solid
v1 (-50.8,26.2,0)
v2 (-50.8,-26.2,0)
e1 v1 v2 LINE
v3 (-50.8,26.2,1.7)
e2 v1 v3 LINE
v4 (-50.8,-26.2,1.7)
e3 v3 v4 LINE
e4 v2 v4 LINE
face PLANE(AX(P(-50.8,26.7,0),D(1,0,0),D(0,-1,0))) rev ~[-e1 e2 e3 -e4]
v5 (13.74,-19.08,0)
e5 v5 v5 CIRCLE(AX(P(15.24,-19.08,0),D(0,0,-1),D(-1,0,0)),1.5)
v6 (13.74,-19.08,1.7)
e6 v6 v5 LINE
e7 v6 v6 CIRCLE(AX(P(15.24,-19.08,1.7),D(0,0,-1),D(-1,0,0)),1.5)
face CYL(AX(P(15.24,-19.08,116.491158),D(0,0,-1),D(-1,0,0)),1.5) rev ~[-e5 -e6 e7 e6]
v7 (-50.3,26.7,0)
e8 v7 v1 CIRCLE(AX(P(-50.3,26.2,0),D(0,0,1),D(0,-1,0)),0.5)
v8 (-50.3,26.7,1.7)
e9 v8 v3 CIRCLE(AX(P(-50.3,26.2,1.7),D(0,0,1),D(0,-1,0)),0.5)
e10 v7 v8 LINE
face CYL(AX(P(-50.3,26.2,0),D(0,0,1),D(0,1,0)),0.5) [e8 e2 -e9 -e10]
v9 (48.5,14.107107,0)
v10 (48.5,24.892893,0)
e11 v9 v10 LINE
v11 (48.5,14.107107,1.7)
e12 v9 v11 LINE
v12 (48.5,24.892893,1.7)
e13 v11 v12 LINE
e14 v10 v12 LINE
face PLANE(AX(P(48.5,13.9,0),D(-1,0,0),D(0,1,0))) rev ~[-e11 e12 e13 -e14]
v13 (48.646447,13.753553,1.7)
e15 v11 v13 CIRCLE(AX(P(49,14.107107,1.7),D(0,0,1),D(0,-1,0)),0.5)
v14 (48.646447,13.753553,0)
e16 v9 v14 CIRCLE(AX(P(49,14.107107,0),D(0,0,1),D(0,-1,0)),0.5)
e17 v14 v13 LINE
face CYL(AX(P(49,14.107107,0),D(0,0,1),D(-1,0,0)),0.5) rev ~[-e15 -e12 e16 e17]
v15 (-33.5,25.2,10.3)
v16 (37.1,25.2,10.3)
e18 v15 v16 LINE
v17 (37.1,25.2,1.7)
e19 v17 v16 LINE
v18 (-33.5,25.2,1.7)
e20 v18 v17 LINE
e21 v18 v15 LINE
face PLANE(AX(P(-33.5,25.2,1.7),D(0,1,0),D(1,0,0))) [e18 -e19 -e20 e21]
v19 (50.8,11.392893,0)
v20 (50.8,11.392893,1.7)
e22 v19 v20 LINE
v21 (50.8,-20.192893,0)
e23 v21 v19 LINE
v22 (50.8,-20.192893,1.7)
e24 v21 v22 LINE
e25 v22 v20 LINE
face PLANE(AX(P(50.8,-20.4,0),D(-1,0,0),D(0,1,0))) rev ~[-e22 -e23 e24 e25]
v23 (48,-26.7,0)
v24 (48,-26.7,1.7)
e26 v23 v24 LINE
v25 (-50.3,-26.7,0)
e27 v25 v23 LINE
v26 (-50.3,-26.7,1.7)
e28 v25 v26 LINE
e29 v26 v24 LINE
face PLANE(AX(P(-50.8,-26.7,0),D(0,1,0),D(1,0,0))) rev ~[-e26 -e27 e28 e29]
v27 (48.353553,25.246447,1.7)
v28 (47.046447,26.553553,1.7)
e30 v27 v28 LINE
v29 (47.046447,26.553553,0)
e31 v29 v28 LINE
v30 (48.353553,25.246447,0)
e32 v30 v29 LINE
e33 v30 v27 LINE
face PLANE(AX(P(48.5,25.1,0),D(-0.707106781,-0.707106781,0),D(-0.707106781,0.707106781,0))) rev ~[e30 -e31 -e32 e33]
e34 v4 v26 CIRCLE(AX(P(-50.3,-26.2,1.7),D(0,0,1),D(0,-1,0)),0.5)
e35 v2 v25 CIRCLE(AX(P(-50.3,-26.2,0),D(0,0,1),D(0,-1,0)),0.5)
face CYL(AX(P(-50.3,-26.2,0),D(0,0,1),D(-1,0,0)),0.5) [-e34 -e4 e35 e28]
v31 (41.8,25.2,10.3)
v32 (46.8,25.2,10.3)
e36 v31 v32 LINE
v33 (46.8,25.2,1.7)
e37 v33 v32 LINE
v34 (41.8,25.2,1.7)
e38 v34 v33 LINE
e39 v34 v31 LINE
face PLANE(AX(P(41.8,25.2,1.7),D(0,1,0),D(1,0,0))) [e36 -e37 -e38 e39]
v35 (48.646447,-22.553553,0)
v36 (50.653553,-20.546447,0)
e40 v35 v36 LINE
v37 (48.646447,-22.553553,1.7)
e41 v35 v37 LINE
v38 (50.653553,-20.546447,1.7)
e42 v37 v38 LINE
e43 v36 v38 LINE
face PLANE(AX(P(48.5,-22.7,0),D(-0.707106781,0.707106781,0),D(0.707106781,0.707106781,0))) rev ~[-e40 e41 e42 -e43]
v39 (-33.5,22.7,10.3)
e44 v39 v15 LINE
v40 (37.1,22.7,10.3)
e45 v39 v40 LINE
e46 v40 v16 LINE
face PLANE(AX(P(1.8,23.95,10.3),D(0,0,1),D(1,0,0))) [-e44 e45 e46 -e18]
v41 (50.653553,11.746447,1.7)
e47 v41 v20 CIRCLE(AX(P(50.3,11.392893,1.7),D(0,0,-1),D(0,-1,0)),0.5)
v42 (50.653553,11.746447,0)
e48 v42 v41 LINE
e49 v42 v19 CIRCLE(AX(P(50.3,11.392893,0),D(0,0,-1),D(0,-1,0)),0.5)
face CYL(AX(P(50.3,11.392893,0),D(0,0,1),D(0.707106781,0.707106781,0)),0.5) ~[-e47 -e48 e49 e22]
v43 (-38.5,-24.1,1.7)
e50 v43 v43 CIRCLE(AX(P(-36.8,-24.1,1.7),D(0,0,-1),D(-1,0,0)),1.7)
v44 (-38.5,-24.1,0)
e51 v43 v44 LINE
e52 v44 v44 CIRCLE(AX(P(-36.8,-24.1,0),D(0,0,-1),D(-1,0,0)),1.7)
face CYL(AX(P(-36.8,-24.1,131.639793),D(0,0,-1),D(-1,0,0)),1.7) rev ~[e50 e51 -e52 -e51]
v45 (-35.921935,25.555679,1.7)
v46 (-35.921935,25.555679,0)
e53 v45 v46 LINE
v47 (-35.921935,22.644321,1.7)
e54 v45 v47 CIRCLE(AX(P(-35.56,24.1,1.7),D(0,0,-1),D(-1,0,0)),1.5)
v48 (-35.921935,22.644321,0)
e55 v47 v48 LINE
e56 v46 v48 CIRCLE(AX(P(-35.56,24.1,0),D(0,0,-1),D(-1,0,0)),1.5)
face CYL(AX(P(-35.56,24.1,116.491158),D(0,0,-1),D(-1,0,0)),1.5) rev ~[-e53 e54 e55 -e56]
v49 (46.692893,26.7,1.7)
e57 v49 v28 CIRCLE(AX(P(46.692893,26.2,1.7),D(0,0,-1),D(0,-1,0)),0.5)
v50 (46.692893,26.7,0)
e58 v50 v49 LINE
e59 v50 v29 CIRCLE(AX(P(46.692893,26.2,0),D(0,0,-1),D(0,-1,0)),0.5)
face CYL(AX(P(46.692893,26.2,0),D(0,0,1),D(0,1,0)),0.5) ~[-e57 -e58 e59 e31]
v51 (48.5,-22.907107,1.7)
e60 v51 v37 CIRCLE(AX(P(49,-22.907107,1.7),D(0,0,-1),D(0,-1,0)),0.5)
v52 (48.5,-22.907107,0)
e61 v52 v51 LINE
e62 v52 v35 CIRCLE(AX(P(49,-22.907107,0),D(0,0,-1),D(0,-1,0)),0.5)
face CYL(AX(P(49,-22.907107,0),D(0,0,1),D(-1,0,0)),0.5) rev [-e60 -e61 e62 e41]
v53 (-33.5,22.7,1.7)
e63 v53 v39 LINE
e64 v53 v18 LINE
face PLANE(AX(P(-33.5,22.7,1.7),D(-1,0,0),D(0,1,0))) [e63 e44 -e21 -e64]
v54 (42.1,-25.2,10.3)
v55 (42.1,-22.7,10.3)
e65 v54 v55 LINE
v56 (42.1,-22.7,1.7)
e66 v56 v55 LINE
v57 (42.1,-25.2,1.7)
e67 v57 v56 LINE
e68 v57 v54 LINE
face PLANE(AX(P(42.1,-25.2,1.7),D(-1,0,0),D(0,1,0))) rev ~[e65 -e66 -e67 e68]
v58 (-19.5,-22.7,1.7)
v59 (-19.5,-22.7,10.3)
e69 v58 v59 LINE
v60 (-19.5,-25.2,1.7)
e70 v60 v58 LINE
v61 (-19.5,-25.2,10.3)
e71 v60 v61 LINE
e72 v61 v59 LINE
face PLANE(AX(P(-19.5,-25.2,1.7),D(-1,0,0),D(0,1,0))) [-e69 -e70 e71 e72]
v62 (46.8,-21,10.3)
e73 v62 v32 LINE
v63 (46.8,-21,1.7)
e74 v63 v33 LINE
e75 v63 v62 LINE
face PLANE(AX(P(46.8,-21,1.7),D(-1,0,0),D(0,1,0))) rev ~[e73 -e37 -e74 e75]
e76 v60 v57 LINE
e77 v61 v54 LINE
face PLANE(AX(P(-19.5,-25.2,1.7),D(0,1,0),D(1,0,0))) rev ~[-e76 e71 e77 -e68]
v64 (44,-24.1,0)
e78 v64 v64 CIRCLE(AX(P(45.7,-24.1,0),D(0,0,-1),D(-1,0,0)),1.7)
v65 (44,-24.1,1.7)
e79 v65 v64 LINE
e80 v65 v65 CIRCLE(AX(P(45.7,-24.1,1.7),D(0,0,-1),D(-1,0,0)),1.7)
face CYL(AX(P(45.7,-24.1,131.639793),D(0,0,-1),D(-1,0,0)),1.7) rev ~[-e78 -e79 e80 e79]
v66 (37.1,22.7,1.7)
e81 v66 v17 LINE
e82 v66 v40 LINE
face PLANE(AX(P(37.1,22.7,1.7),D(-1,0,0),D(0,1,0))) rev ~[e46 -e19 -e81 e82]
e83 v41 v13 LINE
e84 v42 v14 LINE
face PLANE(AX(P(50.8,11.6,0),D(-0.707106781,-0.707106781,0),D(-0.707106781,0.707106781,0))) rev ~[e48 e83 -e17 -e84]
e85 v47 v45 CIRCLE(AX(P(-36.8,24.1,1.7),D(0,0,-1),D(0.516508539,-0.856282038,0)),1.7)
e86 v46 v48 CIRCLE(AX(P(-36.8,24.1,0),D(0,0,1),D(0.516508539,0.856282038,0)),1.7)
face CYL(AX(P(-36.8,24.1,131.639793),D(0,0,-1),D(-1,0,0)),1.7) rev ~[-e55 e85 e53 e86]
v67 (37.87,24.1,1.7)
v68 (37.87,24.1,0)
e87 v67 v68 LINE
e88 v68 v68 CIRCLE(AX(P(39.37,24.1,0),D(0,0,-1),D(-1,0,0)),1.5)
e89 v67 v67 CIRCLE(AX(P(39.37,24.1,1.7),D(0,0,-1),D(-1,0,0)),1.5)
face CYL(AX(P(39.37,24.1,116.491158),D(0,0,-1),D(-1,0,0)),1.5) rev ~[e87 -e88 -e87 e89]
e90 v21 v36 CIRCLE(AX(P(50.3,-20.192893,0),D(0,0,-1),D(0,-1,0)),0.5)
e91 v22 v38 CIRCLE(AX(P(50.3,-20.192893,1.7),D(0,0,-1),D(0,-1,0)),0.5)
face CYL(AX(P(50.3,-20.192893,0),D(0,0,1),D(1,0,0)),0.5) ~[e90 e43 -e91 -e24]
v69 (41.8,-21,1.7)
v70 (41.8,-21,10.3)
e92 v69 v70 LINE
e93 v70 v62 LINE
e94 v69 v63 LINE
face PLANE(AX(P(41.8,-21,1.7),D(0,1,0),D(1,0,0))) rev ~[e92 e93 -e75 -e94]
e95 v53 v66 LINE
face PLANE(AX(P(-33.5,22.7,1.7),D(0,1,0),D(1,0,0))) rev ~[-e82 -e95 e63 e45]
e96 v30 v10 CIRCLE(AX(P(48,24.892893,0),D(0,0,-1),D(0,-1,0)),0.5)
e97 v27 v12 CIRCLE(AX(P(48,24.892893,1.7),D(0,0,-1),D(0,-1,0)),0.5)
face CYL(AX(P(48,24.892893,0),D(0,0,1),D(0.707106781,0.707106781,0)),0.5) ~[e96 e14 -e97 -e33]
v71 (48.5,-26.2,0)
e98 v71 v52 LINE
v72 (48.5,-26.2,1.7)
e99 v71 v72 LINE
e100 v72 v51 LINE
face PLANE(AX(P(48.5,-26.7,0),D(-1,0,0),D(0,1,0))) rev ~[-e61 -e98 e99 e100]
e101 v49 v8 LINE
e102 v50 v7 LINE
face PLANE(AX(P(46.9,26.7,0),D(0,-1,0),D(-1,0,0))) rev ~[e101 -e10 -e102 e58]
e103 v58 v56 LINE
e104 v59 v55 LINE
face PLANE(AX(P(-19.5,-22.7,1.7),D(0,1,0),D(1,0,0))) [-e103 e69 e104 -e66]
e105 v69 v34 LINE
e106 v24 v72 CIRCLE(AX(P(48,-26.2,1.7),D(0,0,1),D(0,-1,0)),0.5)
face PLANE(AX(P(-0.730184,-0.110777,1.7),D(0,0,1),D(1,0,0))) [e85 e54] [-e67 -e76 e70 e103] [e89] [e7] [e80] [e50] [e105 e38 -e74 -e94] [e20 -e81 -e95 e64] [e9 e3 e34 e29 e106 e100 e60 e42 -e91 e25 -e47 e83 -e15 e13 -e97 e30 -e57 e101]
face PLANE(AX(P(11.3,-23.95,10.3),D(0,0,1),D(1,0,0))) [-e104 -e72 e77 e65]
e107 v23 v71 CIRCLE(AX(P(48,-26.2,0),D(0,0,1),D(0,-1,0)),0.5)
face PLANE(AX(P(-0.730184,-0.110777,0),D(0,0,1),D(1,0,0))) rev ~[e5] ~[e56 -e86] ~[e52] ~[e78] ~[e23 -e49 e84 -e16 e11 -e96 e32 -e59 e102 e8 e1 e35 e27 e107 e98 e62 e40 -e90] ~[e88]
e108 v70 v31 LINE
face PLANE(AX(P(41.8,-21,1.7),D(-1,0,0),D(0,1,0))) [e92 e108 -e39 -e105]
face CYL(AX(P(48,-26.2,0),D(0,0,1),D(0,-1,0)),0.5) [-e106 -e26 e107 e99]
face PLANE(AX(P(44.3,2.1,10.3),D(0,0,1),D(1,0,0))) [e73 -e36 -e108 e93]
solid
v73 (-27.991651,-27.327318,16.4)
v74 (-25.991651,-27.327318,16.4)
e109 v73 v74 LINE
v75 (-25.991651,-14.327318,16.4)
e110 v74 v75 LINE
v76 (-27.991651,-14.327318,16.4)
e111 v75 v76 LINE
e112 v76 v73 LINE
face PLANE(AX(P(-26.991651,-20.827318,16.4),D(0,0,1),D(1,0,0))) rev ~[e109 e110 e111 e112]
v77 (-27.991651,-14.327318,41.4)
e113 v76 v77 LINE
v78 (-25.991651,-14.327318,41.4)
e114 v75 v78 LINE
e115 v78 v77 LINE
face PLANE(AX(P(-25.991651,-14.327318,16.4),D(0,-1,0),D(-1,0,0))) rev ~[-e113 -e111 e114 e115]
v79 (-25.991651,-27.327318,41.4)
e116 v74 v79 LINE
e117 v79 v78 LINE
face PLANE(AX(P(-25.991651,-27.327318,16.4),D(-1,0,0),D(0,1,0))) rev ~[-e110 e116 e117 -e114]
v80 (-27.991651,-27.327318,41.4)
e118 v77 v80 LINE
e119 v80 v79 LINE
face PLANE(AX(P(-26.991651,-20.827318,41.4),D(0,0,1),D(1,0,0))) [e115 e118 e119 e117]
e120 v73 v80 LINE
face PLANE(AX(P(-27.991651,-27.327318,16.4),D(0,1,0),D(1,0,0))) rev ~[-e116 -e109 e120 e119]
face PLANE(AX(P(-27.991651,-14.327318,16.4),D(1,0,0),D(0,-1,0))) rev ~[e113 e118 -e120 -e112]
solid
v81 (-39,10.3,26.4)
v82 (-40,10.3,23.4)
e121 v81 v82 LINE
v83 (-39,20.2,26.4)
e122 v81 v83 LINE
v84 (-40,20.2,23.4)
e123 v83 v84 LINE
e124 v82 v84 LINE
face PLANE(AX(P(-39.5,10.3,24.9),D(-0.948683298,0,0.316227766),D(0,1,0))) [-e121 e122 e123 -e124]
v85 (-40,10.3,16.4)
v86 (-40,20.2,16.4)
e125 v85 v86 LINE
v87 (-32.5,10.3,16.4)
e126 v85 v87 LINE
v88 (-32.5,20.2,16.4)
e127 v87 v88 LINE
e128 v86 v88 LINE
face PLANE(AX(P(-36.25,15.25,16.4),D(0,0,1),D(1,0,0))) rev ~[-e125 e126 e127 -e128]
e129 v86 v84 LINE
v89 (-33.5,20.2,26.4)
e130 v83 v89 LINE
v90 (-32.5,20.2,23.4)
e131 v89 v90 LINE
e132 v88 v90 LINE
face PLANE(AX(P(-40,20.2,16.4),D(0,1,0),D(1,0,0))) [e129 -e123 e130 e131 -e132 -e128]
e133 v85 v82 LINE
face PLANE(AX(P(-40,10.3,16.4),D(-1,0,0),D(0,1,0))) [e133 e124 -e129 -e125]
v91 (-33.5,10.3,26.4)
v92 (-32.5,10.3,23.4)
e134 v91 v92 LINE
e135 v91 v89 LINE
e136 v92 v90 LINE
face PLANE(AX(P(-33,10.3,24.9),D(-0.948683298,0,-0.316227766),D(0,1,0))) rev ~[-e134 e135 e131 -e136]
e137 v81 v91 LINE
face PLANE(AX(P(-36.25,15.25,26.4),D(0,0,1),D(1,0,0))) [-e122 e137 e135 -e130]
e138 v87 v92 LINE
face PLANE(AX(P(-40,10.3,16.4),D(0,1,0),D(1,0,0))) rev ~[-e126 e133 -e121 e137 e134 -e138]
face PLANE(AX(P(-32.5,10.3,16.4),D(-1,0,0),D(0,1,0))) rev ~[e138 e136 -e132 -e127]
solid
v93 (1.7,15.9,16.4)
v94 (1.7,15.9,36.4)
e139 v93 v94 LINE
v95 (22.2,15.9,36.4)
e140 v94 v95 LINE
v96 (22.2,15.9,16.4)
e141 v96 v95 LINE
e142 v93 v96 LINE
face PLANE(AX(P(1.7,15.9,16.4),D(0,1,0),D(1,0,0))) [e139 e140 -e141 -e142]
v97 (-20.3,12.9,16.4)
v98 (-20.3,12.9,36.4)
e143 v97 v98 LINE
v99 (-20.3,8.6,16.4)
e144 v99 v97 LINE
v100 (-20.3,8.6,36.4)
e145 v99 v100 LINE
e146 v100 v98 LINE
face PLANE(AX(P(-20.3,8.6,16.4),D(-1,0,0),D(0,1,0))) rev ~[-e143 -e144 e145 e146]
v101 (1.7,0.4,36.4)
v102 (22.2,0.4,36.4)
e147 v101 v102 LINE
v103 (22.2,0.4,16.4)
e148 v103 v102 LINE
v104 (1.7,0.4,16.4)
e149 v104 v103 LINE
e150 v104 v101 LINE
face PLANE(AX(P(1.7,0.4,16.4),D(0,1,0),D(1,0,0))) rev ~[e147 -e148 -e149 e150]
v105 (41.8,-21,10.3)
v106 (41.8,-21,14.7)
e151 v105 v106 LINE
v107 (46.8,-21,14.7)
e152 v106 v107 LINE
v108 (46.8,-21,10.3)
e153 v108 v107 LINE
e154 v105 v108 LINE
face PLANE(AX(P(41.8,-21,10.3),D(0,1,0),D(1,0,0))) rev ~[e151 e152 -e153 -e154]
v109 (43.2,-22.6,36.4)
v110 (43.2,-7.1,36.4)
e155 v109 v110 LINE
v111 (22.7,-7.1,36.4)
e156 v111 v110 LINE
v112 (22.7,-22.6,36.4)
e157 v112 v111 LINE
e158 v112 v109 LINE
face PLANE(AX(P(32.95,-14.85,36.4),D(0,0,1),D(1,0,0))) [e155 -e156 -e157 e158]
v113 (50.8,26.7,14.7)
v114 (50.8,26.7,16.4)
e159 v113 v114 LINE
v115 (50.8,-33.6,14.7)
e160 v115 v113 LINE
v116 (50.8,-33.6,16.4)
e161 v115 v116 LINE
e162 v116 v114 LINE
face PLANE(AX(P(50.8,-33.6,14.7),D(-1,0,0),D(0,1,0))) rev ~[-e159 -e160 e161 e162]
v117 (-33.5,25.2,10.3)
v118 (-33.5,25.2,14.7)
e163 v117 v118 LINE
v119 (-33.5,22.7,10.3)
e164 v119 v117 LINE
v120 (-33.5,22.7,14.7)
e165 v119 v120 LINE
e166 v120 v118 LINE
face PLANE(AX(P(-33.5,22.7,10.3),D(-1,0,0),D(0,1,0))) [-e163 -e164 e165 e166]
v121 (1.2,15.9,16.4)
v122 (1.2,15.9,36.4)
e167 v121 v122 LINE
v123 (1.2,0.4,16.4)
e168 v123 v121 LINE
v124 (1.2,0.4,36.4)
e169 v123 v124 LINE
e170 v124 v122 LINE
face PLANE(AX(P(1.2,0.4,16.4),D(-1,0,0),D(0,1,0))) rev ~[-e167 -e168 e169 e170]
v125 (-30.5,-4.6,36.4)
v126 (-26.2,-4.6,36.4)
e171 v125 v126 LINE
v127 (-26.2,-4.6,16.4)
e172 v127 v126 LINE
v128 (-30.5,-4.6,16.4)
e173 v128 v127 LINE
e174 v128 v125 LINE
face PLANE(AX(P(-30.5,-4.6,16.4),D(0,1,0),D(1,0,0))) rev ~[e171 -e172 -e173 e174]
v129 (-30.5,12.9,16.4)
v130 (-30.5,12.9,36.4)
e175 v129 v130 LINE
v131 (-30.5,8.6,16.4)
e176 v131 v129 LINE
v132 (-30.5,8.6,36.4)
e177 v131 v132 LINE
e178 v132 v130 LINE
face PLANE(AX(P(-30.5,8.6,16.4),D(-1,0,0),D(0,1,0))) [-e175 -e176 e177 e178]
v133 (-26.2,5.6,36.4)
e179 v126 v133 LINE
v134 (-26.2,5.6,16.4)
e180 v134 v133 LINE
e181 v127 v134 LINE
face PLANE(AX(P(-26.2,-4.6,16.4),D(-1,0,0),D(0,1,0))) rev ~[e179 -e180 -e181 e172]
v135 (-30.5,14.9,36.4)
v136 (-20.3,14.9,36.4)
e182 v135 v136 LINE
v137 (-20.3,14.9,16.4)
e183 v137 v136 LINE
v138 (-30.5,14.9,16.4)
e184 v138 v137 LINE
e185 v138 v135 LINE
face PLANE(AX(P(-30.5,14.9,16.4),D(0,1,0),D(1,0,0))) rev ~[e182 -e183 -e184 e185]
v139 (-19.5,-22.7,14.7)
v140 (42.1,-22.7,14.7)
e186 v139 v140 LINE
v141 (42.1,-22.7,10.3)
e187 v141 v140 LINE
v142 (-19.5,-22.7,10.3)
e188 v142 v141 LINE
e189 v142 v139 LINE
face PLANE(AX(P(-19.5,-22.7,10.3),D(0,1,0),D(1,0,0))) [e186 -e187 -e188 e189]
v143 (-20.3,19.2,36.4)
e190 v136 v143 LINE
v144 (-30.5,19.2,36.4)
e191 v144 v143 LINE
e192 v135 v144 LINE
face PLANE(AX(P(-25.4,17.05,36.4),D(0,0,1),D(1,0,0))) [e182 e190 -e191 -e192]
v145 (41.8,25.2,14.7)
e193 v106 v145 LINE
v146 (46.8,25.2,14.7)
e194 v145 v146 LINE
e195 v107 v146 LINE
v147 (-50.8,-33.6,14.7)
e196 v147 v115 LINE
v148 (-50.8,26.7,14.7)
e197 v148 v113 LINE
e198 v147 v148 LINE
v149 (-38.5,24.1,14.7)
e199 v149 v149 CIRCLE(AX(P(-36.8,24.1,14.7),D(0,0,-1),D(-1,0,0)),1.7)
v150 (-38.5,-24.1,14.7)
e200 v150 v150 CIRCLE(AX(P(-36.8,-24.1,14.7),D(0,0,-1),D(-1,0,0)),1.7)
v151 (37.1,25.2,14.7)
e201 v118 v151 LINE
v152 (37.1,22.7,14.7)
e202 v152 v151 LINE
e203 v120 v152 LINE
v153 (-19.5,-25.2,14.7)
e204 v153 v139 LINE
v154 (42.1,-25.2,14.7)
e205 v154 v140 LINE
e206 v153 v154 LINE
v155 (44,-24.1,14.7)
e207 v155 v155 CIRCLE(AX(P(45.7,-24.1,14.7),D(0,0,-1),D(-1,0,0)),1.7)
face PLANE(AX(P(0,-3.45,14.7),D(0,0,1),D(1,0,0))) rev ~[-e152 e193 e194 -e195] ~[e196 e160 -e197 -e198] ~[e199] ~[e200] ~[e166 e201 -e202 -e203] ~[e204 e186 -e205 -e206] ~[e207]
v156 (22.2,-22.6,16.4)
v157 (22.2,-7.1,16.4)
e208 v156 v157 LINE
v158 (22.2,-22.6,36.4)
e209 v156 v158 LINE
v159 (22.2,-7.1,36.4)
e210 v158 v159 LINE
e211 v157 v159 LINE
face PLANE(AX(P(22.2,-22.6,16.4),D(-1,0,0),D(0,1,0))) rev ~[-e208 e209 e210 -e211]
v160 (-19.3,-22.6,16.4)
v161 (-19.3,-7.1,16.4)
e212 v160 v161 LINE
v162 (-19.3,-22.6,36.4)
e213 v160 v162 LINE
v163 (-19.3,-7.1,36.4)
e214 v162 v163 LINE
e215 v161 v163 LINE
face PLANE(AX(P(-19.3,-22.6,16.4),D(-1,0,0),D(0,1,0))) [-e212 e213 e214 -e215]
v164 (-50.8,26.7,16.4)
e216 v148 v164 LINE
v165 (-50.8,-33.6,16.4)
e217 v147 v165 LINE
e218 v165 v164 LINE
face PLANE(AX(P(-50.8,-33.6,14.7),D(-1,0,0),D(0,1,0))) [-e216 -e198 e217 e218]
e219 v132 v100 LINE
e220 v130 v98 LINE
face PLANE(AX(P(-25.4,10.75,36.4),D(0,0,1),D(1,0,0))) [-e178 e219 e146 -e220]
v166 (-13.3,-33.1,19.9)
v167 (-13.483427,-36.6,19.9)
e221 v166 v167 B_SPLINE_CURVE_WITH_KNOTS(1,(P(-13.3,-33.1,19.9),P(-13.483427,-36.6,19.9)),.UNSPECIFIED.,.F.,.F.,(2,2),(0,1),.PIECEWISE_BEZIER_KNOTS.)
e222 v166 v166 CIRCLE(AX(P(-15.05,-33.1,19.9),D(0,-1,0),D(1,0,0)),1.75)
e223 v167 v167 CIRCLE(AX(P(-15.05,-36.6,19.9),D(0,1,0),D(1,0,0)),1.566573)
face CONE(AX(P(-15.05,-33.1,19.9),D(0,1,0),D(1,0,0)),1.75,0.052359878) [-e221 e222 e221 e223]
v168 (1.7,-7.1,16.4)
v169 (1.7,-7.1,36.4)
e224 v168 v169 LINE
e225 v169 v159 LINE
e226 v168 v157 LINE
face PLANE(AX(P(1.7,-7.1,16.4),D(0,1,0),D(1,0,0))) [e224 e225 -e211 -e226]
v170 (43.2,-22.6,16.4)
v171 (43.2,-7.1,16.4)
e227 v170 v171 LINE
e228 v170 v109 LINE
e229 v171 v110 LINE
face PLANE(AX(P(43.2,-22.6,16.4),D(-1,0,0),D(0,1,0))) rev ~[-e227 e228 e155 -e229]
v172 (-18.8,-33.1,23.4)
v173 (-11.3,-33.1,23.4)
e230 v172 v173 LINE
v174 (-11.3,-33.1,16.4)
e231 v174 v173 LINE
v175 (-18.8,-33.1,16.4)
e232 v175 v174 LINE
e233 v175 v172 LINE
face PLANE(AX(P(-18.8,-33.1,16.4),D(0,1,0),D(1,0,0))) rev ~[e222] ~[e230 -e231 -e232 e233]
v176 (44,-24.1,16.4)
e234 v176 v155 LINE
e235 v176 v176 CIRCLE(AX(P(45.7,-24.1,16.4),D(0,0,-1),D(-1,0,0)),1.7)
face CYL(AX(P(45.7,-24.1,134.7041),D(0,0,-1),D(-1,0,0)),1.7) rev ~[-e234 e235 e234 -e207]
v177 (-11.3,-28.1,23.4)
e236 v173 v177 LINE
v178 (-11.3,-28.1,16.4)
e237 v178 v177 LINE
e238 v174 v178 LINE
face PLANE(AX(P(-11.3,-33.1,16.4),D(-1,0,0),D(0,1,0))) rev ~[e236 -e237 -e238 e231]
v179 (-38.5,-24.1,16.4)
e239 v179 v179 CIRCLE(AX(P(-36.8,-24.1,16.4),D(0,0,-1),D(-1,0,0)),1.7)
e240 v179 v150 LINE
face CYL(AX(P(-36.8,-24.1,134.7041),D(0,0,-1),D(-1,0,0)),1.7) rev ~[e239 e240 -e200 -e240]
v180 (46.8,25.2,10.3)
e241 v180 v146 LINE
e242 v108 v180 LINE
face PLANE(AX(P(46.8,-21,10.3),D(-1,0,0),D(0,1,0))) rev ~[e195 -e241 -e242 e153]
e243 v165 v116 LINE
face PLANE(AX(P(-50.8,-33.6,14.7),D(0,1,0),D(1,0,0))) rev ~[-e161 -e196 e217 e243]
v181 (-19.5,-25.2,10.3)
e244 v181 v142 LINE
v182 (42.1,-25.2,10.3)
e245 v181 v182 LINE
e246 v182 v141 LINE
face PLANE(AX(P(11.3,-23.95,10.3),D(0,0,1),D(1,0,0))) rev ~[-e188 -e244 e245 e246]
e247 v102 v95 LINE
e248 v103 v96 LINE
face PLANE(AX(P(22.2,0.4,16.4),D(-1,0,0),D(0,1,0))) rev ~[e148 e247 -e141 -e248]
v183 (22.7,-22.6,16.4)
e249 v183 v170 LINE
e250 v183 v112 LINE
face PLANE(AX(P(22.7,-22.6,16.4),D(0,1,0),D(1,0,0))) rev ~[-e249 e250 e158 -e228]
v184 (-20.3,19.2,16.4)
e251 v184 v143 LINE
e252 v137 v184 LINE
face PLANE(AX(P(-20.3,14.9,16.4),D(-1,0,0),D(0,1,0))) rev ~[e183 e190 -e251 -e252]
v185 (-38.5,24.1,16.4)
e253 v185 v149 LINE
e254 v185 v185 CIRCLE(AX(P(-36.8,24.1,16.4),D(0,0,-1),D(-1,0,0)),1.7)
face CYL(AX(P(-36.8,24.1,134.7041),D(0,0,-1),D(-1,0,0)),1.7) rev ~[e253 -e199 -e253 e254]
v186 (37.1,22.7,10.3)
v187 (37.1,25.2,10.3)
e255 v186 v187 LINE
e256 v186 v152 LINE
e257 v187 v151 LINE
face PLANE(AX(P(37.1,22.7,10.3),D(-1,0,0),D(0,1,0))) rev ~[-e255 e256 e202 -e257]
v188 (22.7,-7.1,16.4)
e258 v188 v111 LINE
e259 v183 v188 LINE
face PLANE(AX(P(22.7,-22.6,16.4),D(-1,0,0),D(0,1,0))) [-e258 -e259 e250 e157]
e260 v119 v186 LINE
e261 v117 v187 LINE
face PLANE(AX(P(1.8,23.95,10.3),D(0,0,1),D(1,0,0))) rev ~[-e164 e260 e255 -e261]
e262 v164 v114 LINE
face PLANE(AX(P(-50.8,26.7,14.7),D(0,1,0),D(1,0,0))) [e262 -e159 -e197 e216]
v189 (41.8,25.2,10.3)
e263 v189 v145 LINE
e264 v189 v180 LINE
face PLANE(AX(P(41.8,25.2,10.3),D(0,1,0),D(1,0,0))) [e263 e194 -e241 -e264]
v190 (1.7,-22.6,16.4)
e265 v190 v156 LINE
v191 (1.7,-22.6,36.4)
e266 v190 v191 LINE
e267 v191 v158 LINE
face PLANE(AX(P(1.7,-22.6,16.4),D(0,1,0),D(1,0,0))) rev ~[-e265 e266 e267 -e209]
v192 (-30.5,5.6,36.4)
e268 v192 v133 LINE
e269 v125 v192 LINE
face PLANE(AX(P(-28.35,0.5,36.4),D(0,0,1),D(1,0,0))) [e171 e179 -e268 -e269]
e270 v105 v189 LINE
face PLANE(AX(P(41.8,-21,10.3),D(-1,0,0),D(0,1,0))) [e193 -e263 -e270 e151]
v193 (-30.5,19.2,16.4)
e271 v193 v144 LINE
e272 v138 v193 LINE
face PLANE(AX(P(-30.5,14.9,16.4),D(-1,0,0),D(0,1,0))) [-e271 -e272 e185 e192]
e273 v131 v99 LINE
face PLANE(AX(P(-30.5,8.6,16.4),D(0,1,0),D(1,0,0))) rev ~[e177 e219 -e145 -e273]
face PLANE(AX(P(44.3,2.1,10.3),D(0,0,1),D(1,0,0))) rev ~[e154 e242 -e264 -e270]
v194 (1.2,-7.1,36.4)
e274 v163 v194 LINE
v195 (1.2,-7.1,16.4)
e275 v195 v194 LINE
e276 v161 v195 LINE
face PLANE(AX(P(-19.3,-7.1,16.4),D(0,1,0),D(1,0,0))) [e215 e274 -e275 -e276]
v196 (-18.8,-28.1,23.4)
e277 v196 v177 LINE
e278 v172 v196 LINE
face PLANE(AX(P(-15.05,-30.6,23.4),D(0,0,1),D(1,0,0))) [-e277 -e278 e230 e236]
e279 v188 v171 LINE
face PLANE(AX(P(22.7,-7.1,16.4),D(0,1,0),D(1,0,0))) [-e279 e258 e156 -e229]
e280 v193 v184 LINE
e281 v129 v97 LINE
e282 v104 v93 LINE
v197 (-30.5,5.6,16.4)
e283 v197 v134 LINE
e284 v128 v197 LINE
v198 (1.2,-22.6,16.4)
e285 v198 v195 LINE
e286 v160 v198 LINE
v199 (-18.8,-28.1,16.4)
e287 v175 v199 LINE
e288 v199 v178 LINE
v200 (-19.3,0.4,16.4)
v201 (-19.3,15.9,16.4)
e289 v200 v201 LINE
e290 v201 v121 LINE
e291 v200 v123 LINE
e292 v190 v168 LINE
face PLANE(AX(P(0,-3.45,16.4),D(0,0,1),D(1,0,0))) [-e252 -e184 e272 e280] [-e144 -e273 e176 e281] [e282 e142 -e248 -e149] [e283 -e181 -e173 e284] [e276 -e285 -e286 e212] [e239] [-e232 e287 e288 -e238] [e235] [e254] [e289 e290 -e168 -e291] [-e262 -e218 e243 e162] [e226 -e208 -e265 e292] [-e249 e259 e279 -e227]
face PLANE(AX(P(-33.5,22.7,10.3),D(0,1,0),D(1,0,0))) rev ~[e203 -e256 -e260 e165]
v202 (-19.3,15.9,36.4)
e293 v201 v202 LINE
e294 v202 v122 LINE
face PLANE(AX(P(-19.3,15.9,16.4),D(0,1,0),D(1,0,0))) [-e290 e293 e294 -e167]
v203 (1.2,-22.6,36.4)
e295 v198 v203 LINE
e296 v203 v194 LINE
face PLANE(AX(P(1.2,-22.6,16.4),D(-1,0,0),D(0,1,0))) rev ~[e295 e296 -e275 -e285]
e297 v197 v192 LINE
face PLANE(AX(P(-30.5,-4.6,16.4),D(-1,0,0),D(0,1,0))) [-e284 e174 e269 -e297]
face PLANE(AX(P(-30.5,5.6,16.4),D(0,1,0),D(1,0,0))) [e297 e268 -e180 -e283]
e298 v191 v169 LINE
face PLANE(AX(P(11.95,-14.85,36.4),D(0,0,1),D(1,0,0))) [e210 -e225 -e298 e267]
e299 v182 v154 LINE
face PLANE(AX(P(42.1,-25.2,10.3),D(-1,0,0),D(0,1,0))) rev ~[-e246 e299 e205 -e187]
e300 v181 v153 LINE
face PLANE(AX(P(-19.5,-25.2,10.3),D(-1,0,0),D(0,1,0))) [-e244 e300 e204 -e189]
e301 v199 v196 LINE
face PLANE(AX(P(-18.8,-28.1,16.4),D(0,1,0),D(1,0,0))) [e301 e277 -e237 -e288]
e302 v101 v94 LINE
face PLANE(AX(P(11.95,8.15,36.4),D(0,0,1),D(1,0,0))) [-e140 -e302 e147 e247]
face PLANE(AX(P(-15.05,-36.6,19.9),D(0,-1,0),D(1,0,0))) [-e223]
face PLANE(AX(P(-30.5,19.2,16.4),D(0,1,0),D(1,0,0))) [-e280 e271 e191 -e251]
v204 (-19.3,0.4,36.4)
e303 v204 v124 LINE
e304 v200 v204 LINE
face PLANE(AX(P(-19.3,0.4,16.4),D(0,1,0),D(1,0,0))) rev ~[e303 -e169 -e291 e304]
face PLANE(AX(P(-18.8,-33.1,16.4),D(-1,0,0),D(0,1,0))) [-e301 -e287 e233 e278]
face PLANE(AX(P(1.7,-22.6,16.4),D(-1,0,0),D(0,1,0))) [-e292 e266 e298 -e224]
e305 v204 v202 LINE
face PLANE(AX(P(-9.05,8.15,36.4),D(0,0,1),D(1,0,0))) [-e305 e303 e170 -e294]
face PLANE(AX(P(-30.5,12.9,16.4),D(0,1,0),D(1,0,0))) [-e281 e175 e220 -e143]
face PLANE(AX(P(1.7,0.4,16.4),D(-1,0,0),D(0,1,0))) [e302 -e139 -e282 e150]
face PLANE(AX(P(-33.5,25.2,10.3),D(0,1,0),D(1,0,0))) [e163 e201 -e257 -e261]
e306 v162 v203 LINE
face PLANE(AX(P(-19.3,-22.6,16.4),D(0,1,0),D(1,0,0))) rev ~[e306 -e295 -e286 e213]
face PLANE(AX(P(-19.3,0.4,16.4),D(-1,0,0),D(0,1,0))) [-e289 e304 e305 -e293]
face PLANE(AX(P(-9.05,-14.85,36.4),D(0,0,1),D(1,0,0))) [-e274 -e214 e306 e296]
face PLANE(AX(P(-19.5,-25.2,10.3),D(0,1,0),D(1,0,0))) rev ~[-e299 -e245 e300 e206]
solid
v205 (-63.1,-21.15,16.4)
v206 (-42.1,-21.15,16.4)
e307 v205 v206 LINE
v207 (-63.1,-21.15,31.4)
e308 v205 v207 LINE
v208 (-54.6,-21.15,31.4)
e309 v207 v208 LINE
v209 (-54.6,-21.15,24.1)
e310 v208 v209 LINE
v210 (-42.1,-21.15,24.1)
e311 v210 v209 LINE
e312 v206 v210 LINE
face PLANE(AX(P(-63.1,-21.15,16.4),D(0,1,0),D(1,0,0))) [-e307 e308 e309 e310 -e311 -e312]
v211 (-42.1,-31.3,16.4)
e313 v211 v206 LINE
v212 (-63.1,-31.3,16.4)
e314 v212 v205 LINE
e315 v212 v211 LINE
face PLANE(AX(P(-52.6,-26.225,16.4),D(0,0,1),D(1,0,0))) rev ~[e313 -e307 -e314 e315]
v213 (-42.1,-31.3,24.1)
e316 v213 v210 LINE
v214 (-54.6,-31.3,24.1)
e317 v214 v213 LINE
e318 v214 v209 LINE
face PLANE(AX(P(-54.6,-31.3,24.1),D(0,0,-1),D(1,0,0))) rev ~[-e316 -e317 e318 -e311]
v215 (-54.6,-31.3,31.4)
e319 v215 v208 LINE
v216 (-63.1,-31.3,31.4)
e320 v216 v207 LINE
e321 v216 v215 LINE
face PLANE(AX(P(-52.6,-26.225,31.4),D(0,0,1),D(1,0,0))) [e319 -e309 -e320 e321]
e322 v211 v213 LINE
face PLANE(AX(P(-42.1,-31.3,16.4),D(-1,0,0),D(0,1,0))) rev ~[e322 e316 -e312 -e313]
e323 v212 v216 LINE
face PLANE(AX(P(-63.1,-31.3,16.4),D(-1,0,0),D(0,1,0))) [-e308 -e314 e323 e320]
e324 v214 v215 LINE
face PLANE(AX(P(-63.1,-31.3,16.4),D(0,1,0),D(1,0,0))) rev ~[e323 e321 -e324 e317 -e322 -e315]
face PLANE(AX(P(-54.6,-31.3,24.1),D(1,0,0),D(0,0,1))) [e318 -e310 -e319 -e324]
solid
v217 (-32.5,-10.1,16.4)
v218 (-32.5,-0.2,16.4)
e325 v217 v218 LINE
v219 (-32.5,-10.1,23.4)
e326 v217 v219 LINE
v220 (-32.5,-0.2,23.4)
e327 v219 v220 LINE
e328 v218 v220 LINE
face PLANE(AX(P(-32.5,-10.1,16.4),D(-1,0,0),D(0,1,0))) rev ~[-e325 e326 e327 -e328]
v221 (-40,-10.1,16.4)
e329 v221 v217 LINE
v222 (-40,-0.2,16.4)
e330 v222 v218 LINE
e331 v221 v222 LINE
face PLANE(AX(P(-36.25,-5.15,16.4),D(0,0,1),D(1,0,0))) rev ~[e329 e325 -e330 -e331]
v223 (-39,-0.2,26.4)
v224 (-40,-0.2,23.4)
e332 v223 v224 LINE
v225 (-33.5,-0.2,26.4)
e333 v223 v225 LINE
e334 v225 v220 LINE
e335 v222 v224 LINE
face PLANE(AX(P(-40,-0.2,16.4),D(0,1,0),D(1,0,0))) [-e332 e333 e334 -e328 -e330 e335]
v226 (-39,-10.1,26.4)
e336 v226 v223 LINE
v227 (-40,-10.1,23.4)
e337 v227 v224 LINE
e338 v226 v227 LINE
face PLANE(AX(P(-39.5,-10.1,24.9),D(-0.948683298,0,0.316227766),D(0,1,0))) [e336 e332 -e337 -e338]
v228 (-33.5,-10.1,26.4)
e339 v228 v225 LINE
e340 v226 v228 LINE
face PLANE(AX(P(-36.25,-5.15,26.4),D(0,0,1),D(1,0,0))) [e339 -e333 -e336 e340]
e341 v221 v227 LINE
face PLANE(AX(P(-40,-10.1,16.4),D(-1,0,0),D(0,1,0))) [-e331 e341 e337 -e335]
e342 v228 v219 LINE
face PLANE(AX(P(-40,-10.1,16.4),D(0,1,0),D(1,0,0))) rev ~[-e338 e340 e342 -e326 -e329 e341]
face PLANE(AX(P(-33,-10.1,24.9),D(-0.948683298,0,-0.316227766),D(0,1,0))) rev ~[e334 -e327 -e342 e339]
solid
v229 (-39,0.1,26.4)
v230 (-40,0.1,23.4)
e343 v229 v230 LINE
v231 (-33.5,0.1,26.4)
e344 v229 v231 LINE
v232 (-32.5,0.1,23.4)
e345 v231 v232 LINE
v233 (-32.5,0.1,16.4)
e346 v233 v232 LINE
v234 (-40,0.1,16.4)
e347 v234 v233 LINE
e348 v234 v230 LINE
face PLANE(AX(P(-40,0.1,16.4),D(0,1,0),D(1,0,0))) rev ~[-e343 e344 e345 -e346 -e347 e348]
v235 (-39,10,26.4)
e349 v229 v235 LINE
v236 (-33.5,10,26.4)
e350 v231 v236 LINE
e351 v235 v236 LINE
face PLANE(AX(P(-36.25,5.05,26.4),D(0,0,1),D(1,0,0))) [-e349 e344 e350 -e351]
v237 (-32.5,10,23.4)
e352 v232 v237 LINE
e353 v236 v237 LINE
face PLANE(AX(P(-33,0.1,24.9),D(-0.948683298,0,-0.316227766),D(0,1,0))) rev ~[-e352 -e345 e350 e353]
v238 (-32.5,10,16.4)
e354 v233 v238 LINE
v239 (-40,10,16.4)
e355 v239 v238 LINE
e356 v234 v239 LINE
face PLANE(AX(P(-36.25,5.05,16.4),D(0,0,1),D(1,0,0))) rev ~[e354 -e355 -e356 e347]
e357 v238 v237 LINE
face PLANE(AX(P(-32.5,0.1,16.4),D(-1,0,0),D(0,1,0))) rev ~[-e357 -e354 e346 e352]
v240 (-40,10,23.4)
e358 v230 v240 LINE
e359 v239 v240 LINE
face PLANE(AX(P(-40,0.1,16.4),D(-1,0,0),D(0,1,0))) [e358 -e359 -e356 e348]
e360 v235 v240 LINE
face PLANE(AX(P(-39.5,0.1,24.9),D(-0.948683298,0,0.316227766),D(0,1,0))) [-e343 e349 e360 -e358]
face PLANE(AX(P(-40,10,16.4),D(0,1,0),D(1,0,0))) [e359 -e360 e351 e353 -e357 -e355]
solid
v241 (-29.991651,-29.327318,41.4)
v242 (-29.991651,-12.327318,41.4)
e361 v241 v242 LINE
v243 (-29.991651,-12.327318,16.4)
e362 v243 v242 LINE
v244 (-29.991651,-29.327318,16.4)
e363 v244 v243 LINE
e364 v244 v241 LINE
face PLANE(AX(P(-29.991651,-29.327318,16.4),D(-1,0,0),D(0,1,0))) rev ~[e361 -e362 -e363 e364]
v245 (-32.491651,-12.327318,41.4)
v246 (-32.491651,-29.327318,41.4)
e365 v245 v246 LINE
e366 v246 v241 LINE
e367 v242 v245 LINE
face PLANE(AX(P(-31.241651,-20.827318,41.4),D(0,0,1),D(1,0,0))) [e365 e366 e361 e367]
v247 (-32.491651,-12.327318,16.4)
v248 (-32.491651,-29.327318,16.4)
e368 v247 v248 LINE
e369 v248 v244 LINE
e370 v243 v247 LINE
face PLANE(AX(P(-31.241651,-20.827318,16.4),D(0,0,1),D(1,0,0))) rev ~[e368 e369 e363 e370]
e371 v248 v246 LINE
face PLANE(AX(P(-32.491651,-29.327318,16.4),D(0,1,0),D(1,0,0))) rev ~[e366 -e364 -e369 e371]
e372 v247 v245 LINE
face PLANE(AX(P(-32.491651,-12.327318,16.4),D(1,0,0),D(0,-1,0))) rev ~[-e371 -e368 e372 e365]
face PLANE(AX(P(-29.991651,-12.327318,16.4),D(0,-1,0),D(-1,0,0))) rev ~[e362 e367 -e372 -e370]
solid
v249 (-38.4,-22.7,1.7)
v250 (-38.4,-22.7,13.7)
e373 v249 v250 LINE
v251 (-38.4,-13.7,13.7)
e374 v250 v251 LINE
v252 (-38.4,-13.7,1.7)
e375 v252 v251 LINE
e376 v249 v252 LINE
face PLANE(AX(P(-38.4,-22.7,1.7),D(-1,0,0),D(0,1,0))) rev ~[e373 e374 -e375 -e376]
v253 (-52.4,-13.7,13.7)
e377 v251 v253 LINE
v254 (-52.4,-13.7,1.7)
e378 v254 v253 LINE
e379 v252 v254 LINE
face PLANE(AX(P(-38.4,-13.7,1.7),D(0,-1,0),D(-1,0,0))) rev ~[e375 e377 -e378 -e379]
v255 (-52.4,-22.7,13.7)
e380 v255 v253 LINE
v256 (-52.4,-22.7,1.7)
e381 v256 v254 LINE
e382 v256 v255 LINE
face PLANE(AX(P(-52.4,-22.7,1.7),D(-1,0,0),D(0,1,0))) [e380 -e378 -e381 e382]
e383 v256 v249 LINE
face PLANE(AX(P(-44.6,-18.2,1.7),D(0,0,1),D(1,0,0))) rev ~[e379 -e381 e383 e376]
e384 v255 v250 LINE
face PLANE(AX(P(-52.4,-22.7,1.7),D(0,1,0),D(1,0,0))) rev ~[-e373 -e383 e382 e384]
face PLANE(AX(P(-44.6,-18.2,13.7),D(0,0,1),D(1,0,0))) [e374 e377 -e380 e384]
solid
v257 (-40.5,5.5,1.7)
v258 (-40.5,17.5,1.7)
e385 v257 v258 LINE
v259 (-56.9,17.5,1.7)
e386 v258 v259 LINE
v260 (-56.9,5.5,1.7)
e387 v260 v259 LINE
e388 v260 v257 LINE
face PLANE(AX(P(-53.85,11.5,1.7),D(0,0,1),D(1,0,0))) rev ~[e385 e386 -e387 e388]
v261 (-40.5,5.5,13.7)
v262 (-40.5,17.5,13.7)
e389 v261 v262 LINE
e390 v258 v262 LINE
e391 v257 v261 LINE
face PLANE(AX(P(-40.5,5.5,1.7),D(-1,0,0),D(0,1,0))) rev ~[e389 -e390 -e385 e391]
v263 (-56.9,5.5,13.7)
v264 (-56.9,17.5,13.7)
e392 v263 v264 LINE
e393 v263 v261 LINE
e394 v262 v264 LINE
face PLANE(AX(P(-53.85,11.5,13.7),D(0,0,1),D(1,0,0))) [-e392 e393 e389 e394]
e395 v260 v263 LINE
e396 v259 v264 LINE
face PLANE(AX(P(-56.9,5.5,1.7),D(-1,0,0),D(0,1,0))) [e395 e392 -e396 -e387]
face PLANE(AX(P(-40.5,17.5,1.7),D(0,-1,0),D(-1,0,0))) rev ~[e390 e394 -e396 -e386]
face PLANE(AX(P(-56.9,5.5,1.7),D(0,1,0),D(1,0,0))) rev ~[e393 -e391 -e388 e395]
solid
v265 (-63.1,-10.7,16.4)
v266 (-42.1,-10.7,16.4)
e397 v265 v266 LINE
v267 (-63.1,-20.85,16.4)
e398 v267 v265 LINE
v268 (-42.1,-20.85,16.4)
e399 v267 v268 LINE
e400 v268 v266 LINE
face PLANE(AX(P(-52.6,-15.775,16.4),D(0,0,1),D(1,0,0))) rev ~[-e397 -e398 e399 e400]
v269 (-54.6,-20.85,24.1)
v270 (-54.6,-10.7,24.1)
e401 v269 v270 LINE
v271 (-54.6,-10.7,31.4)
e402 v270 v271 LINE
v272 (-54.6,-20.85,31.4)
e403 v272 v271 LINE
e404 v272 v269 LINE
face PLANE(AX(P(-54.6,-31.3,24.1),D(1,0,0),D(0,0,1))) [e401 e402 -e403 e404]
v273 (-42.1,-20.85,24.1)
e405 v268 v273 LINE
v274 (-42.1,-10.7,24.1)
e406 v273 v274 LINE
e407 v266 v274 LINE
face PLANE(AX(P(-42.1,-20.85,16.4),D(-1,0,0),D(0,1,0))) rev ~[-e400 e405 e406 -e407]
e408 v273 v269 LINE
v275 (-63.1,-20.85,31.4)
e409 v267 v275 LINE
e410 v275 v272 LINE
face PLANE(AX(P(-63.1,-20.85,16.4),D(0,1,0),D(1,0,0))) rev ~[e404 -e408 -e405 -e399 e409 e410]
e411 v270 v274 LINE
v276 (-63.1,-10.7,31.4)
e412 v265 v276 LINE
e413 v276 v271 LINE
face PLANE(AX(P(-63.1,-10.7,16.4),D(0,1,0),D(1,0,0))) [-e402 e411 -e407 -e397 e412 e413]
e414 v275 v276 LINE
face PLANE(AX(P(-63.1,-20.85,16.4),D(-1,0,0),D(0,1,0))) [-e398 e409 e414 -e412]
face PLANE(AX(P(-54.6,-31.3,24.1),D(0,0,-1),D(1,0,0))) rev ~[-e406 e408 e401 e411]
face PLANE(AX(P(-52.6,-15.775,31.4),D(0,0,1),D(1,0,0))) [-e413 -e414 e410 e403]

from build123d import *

# Parameters (mm, degrees)
F1_DEPTH    = 1.7
F3_D        = 3
F4_R        = 0.5
F5_W        = 6.1
F5_H        = 12
F5_W_2      = 10.3
F6_DEPTH    = 12
F5_W_3      = 12.4
F5_H_2      = 9
F5_W_4      = 1.6
F7_W        = 70.6
F7_H        = 2.5
F7_W_2      = 5
F7_H_2      = 46.2
F7_W_3      = 61.6
F8_DEPTH    = 8.6
F9_W        = 5
F9_H        = 46.2
F10_DEPTH   = 4.4
F9_W_2      = 61.6
F9_H_2      = 2.5
F9_W_3      = 70.6
F11_W       = 101.6
F11_H       = 60.3
F12_DEPTH   = 1.7
F14_D       = 3.4
F14_2_D     = 3.4
F15_W       = 21
F15_H       = 10.15
F16_DEPTH   = 15
F17_W       = 12.5
F17_H       = 7.3
F18_DEPTH   = 20.6
F19_W       = 7.5
F19_H       = 9.9
F20_DEPTH   = 10
F21_SIZE2   = 3
F21_SIZE    = 1
F21_2_SIZE2 = 3
F21_2_SIZE  = 1
F21_3_SIZE2 = 3
F21_3_SIZE  = 1
F22_W       = 10.2
F22_H       = 4.3
F22_W_2     = 4.3
F22_H_2     = 10.2
F22_W_3     = 20.5
F22_H_3     = 15.5
F23_DEPTH   = 20
F25_DEPTH   = 25
F26_W       = 7.5
F26_H       = 5
F27_DEPTH   = 7
F28_R       = 1.75
F29_DEPTH   = 3.5
F29_TAPER   = 3


with BuildPart() as f1:
    # F0 (on Top) → F1 (new body)
    with BuildSketch(Plane.XY):
        Polygon((46.9, 26.7), (-50.8, 26.7), (-50.8, -26.7), (48.5, -26.7), (48.5, -22.7), (50.8, -20.4), (50.8, 11.6), (48.5, 13.9), (48.5, 25.1), align=None)
    extrude(amount=F1_DEPTH)

    # F3 (through all)
    with Locations(Plane.XY.offset(1.7)):
        with Locations((-35.56, 24.1), (39.37, 24.1), (15.24, -19.08), (45.72, -24.16), (-36.83, -24.16)):
            Hole(F3_D / 2)

    # F4
    f4_edges = [f1.edges().sort_by_distance(p)[0] for p in [
        (-50.8, 26.7, 0.85),
        (-50.8, -26.7, 0.85),
        (48.5, -26.7, 0.85),
        (48.5, -22.7, 0.85),
        (50.8, -20.4, 0.85),
        (50.8, 11.6, 0.85),
        (48.5, 13.9, 0.85),
        (48.5, 25.1, 0.85),
        (46.9, 26.7, 0.85),
    ]]
    fillet(f4_edges, radius=F4_R)

    # F7 (on face) → F8 (join)
    with BuildSketch(Plane.XY.offset(1.7)):
        with Locations((1.8, 23.95)):
            Rectangle(F7_W, F7_H)
        with Locations((44.3, 2.1)):
            Rectangle(F7_W_2, F7_H_2)
        with Locations((11.3, -23.95)):
            Rectangle(F7_W_3, F7_H)
    extrude(amount=F8_DEPTH)

    # F14 (through all)
    with Locations(Plane.XY.offset(16.4)):
        with Locations((-36.8, -24.1), (-36.8, 24.1), (45.7, -24.1)):
            Hole(F14_D / 2)


with BuildPart() as f6:
    # F5 (on face) → F6 (new body)
    with BuildSketch(Plane.XY.offset(1.7)):
        with Locations((-53.85, 11.5)):
            Rectangle(F5_W, F5_H)
        with Locations((-45.65, 11.5)):
            Rectangle(F5_W_2, F5_H)
    extrude(amount=F6_DEPTH)


with BuildPart() as f6b:
    # F5 (on face) → F6, piece 2 (new body)
    with BuildSketch(Plane.XY.offset(1.7)):
        with Locations((-44.6, -18.2)):
            Rectangle(F5_W_3, F5_H_2)
        with Locations((-51.6, -18.2)):
            Rectangle(F5_W_4, F5_H_2)
    extrude(amount=F6_DEPTH)


with BuildPart() as f10:
    # F9 (on face) → F10 (new body)
    with BuildSketch(Plane.XY.offset(10.3)):
        with Locations((44.3, 2.1)):
            Rectangle(F9_W, F9_H)
    extrude(amount=F10_DEPTH)



with BuildPart() as f10b:
    # F9 (on face) → F10, piece 2 (new body)
    with BuildSketch(Plane.XY.offset(10.3)):
        with Locations((11.3, -23.95)):
            Rectangle(F9_W_2, F9_H_2)
    extrude(amount=F10_DEPTH)


with BuildPart() as f10c:
    # F9 (on face) → F10, piece 3 (new body)
    with BuildSketch(Plane.XY.offset(10.3)):
        with Locations((1.8, 23.95)):
            Rectangle(F9_W_3, F9_H_2)
    extrude(amount=F10_DEPTH)


with BuildPart() as f10_1:
    add(f10.part)

    add(f10b.part)  # F12 merges F10b

    add(f10c.part)  # F12 merges F10c
    # F11 (on face) → F12 (join)
    with BuildSketch(Plane.XY.offset(14.7)):
        with Locations((0, -3.45)):
            Rectangle(F11_W, F11_H)
    extrude(amount=F12_DEPTH)

    # F14#2 (through all)
    with Locations(Plane.XY.offset(16.4)):
        with Locations((-36.8, -24.1), (-36.8, 24.1), (45.7, -24.1)):
            Hole(F14_2_D / 2)

    # F22 (on face) → F23 (join)
    with BuildSketch(Plane.XY.offset(16.4)):
        with Locations((-25.4, 17.05)):
            Rectangle(F22_W, F22_H)
        with Locations((-25.4, 10.75)):
            Rectangle(F22_W, F22_H)
        with Locations((-28.35, 0.5)):
            Rectangle(F22_W_2, F22_H_2)
        with Locations((-9.05, 8.15)):
            Rectangle(F22_W_3, F22_H_3)
        with Locations((11.95, 8.15)):
            Rectangle(F22_W_3, F22_H_3)
        with Locations((-9.05, -14.85)):
            Rectangle(F22_W_3, F22_H_3)
        with Locations((11.95, -14.85)):
            Rectangle(F22_W_3, F22_H_3)
        with Locations((32.95, -14.85)):
            Rectangle(F22_W_3, F22_H_3)
    extrude(amount=F23_DEPTH)

    # F26 (on face) → F27 (join)
    with BuildSketch(Plane.XY.offset(16.4)):
        with Locations((-15.05, -30.6)):
            Rectangle(F26_W, F26_H)
    extrude(amount=F27_DEPTH)

    # F28 (on face) → F29 (join)
    with BuildSketch(Plane.XZ.offset(33.1)):
        with Locations((-15.05, 19.9)):
            Circle(F28_R)
    extrude(amount=F29_DEPTH, taper=F29_TAPER)


with BuildPart() as f16:
    # F15 (on face) → F16 (new body)
    with BuildSketch(Plane.XY.offset(16.4)):
        with Locations((-52.6, -26.225)):
            Rectangle(F15_W, F15_H)
    extrude(amount=F16_DEPTH)


with BuildPart() as f16b:
    # F15 (on face) → F16, piece 2 (new body)
    with BuildSketch(Plane.XY.offset(16.4)):
        with Locations((-52.6, -15.775)):
            Rectangle(F15_W, F15_H)
    extrude(amount=F16_DEPTH)


with BuildPart() as f18_tool:
    # F17 (on face) → F18 (new body, through all)
    with BuildSketch(Plane.XZ.offset(31.3)):
        with Locations((-48.35, 27.75)):
            Rectangle(F17_W, F17_H)
    extrude(amount=-F18_DEPTH)


with BuildPart() as f16_1:
    add(f16.part)

    # F18: cut by f18_tool
    add(f18_tool.part, mode=Mode.SUBTRACT)


with BuildPart() as f16b_1:
    add(f16b.part)

    # F18: cut by f18_tool
    add(f18_tool.part, mode=Mode.SUBTRACT)


with BuildPart() as f20:
    # F19 (on face) → F20 (new body)
    with BuildSketch(Plane.XY.offset(16.4)):
        with Locations((-36.25, 15.25)):
            Rectangle(F19_W, F19_H)
    extrude(amount=F20_DEPTH)

    # F21
    f21_edges = [f20.edges().sort_by_distance(p)[0] for p in [
        (-40, 15.25, 26.4),
        (-32.5, 15.25, 26.4),
    ]]
    f21_side = f20.faces().sort_by_distance((-36.25, 15.25, 26.4))[0]
    chamfer(f21_edges, length=F21_SIZE, length2=F21_SIZE2, reference=f21_side)


with BuildPart() as f20b:
    # F19 (on face) → F20, piece 2 (new body)
    with BuildSketch(Plane.XY.offset(16.4)):
        with Locations((-36.25, 5.05)):
            Rectangle(F19_W, F19_H)
    extrude(amount=F20_DEPTH)

    # F21#2
    f21_2_edges = [f20b.edges().sort_by_distance(p)[0] for p in [
        (-40, 5.05, 26.4),
        (-32.5, 5.05, 26.4),
    ]]
    f21_2_side = f20b.faces().sort_by_distance((-36.25, 5.05, 26.4))[0]
    chamfer(f21_2_edges, length=F21_2_SIZE, length2=F21_2_SIZE2, reference=f21_2_side)


with BuildPart() as f20c:
    # F19 (on face) → F20, piece 3 (new body)
    with BuildSketch(Plane.XY.offset(16.4)):
        with Locations((-36.25, -5.15)):
            Rectangle(F19_W, F19_H)
    extrude(amount=F20_DEPTH)

    # F21#3
    f21_3_edges = [f20c.edges().sort_by_distance(p)[0] for p in [
        (-40, -5.15, 26.4),
        (-32.5, -5.15, 26.4),
    ]]
    f21_3_side = f20c.faces().sort_by_distance((-36.25, -5.15, 26.4))[0]
    chamfer(f21_3_edges, length=F21_3_SIZE, length2=F21_3_SIZE2, reference=f21_3_side)


with BuildPart() as f25:
    # F24 (on face) → F25 (new body)
    with BuildSketch(Plane.XY.offset(16.4)):
        Polygon((-27.9916506261, -14.3273180723), (-27.9916506261, -20.8273180723), (-27.9916506261, -27.3273180723), (-25.9916506261, -27.3273180723), (-25.9916506261, -14.3273180723), align=None)
    extrude(amount=F25_DEPTH)


with BuildPart() as f25b:
    # F24 (on face) → F25, piece 2 (new body)
    with BuildSketch(Plane.XY.offset(16.4)):
        Polygon((-29.9916506261, -12.3273180723), (-32.4916506261, -12.3273180723), (-32.4916506261, -29.3273180723), (-29.9916506261, -29.3273180723), (-29.9916506261, -20.8273180723), align=None)
    extrude(amount=F25_DEPTH)


solid = Compound([f1.part, f6.part, f6b.part, f10_1.part, f16_1.part, f16b_1.part, f20.part, f20b.part, f20c.part, f25.part, f25b.part])
